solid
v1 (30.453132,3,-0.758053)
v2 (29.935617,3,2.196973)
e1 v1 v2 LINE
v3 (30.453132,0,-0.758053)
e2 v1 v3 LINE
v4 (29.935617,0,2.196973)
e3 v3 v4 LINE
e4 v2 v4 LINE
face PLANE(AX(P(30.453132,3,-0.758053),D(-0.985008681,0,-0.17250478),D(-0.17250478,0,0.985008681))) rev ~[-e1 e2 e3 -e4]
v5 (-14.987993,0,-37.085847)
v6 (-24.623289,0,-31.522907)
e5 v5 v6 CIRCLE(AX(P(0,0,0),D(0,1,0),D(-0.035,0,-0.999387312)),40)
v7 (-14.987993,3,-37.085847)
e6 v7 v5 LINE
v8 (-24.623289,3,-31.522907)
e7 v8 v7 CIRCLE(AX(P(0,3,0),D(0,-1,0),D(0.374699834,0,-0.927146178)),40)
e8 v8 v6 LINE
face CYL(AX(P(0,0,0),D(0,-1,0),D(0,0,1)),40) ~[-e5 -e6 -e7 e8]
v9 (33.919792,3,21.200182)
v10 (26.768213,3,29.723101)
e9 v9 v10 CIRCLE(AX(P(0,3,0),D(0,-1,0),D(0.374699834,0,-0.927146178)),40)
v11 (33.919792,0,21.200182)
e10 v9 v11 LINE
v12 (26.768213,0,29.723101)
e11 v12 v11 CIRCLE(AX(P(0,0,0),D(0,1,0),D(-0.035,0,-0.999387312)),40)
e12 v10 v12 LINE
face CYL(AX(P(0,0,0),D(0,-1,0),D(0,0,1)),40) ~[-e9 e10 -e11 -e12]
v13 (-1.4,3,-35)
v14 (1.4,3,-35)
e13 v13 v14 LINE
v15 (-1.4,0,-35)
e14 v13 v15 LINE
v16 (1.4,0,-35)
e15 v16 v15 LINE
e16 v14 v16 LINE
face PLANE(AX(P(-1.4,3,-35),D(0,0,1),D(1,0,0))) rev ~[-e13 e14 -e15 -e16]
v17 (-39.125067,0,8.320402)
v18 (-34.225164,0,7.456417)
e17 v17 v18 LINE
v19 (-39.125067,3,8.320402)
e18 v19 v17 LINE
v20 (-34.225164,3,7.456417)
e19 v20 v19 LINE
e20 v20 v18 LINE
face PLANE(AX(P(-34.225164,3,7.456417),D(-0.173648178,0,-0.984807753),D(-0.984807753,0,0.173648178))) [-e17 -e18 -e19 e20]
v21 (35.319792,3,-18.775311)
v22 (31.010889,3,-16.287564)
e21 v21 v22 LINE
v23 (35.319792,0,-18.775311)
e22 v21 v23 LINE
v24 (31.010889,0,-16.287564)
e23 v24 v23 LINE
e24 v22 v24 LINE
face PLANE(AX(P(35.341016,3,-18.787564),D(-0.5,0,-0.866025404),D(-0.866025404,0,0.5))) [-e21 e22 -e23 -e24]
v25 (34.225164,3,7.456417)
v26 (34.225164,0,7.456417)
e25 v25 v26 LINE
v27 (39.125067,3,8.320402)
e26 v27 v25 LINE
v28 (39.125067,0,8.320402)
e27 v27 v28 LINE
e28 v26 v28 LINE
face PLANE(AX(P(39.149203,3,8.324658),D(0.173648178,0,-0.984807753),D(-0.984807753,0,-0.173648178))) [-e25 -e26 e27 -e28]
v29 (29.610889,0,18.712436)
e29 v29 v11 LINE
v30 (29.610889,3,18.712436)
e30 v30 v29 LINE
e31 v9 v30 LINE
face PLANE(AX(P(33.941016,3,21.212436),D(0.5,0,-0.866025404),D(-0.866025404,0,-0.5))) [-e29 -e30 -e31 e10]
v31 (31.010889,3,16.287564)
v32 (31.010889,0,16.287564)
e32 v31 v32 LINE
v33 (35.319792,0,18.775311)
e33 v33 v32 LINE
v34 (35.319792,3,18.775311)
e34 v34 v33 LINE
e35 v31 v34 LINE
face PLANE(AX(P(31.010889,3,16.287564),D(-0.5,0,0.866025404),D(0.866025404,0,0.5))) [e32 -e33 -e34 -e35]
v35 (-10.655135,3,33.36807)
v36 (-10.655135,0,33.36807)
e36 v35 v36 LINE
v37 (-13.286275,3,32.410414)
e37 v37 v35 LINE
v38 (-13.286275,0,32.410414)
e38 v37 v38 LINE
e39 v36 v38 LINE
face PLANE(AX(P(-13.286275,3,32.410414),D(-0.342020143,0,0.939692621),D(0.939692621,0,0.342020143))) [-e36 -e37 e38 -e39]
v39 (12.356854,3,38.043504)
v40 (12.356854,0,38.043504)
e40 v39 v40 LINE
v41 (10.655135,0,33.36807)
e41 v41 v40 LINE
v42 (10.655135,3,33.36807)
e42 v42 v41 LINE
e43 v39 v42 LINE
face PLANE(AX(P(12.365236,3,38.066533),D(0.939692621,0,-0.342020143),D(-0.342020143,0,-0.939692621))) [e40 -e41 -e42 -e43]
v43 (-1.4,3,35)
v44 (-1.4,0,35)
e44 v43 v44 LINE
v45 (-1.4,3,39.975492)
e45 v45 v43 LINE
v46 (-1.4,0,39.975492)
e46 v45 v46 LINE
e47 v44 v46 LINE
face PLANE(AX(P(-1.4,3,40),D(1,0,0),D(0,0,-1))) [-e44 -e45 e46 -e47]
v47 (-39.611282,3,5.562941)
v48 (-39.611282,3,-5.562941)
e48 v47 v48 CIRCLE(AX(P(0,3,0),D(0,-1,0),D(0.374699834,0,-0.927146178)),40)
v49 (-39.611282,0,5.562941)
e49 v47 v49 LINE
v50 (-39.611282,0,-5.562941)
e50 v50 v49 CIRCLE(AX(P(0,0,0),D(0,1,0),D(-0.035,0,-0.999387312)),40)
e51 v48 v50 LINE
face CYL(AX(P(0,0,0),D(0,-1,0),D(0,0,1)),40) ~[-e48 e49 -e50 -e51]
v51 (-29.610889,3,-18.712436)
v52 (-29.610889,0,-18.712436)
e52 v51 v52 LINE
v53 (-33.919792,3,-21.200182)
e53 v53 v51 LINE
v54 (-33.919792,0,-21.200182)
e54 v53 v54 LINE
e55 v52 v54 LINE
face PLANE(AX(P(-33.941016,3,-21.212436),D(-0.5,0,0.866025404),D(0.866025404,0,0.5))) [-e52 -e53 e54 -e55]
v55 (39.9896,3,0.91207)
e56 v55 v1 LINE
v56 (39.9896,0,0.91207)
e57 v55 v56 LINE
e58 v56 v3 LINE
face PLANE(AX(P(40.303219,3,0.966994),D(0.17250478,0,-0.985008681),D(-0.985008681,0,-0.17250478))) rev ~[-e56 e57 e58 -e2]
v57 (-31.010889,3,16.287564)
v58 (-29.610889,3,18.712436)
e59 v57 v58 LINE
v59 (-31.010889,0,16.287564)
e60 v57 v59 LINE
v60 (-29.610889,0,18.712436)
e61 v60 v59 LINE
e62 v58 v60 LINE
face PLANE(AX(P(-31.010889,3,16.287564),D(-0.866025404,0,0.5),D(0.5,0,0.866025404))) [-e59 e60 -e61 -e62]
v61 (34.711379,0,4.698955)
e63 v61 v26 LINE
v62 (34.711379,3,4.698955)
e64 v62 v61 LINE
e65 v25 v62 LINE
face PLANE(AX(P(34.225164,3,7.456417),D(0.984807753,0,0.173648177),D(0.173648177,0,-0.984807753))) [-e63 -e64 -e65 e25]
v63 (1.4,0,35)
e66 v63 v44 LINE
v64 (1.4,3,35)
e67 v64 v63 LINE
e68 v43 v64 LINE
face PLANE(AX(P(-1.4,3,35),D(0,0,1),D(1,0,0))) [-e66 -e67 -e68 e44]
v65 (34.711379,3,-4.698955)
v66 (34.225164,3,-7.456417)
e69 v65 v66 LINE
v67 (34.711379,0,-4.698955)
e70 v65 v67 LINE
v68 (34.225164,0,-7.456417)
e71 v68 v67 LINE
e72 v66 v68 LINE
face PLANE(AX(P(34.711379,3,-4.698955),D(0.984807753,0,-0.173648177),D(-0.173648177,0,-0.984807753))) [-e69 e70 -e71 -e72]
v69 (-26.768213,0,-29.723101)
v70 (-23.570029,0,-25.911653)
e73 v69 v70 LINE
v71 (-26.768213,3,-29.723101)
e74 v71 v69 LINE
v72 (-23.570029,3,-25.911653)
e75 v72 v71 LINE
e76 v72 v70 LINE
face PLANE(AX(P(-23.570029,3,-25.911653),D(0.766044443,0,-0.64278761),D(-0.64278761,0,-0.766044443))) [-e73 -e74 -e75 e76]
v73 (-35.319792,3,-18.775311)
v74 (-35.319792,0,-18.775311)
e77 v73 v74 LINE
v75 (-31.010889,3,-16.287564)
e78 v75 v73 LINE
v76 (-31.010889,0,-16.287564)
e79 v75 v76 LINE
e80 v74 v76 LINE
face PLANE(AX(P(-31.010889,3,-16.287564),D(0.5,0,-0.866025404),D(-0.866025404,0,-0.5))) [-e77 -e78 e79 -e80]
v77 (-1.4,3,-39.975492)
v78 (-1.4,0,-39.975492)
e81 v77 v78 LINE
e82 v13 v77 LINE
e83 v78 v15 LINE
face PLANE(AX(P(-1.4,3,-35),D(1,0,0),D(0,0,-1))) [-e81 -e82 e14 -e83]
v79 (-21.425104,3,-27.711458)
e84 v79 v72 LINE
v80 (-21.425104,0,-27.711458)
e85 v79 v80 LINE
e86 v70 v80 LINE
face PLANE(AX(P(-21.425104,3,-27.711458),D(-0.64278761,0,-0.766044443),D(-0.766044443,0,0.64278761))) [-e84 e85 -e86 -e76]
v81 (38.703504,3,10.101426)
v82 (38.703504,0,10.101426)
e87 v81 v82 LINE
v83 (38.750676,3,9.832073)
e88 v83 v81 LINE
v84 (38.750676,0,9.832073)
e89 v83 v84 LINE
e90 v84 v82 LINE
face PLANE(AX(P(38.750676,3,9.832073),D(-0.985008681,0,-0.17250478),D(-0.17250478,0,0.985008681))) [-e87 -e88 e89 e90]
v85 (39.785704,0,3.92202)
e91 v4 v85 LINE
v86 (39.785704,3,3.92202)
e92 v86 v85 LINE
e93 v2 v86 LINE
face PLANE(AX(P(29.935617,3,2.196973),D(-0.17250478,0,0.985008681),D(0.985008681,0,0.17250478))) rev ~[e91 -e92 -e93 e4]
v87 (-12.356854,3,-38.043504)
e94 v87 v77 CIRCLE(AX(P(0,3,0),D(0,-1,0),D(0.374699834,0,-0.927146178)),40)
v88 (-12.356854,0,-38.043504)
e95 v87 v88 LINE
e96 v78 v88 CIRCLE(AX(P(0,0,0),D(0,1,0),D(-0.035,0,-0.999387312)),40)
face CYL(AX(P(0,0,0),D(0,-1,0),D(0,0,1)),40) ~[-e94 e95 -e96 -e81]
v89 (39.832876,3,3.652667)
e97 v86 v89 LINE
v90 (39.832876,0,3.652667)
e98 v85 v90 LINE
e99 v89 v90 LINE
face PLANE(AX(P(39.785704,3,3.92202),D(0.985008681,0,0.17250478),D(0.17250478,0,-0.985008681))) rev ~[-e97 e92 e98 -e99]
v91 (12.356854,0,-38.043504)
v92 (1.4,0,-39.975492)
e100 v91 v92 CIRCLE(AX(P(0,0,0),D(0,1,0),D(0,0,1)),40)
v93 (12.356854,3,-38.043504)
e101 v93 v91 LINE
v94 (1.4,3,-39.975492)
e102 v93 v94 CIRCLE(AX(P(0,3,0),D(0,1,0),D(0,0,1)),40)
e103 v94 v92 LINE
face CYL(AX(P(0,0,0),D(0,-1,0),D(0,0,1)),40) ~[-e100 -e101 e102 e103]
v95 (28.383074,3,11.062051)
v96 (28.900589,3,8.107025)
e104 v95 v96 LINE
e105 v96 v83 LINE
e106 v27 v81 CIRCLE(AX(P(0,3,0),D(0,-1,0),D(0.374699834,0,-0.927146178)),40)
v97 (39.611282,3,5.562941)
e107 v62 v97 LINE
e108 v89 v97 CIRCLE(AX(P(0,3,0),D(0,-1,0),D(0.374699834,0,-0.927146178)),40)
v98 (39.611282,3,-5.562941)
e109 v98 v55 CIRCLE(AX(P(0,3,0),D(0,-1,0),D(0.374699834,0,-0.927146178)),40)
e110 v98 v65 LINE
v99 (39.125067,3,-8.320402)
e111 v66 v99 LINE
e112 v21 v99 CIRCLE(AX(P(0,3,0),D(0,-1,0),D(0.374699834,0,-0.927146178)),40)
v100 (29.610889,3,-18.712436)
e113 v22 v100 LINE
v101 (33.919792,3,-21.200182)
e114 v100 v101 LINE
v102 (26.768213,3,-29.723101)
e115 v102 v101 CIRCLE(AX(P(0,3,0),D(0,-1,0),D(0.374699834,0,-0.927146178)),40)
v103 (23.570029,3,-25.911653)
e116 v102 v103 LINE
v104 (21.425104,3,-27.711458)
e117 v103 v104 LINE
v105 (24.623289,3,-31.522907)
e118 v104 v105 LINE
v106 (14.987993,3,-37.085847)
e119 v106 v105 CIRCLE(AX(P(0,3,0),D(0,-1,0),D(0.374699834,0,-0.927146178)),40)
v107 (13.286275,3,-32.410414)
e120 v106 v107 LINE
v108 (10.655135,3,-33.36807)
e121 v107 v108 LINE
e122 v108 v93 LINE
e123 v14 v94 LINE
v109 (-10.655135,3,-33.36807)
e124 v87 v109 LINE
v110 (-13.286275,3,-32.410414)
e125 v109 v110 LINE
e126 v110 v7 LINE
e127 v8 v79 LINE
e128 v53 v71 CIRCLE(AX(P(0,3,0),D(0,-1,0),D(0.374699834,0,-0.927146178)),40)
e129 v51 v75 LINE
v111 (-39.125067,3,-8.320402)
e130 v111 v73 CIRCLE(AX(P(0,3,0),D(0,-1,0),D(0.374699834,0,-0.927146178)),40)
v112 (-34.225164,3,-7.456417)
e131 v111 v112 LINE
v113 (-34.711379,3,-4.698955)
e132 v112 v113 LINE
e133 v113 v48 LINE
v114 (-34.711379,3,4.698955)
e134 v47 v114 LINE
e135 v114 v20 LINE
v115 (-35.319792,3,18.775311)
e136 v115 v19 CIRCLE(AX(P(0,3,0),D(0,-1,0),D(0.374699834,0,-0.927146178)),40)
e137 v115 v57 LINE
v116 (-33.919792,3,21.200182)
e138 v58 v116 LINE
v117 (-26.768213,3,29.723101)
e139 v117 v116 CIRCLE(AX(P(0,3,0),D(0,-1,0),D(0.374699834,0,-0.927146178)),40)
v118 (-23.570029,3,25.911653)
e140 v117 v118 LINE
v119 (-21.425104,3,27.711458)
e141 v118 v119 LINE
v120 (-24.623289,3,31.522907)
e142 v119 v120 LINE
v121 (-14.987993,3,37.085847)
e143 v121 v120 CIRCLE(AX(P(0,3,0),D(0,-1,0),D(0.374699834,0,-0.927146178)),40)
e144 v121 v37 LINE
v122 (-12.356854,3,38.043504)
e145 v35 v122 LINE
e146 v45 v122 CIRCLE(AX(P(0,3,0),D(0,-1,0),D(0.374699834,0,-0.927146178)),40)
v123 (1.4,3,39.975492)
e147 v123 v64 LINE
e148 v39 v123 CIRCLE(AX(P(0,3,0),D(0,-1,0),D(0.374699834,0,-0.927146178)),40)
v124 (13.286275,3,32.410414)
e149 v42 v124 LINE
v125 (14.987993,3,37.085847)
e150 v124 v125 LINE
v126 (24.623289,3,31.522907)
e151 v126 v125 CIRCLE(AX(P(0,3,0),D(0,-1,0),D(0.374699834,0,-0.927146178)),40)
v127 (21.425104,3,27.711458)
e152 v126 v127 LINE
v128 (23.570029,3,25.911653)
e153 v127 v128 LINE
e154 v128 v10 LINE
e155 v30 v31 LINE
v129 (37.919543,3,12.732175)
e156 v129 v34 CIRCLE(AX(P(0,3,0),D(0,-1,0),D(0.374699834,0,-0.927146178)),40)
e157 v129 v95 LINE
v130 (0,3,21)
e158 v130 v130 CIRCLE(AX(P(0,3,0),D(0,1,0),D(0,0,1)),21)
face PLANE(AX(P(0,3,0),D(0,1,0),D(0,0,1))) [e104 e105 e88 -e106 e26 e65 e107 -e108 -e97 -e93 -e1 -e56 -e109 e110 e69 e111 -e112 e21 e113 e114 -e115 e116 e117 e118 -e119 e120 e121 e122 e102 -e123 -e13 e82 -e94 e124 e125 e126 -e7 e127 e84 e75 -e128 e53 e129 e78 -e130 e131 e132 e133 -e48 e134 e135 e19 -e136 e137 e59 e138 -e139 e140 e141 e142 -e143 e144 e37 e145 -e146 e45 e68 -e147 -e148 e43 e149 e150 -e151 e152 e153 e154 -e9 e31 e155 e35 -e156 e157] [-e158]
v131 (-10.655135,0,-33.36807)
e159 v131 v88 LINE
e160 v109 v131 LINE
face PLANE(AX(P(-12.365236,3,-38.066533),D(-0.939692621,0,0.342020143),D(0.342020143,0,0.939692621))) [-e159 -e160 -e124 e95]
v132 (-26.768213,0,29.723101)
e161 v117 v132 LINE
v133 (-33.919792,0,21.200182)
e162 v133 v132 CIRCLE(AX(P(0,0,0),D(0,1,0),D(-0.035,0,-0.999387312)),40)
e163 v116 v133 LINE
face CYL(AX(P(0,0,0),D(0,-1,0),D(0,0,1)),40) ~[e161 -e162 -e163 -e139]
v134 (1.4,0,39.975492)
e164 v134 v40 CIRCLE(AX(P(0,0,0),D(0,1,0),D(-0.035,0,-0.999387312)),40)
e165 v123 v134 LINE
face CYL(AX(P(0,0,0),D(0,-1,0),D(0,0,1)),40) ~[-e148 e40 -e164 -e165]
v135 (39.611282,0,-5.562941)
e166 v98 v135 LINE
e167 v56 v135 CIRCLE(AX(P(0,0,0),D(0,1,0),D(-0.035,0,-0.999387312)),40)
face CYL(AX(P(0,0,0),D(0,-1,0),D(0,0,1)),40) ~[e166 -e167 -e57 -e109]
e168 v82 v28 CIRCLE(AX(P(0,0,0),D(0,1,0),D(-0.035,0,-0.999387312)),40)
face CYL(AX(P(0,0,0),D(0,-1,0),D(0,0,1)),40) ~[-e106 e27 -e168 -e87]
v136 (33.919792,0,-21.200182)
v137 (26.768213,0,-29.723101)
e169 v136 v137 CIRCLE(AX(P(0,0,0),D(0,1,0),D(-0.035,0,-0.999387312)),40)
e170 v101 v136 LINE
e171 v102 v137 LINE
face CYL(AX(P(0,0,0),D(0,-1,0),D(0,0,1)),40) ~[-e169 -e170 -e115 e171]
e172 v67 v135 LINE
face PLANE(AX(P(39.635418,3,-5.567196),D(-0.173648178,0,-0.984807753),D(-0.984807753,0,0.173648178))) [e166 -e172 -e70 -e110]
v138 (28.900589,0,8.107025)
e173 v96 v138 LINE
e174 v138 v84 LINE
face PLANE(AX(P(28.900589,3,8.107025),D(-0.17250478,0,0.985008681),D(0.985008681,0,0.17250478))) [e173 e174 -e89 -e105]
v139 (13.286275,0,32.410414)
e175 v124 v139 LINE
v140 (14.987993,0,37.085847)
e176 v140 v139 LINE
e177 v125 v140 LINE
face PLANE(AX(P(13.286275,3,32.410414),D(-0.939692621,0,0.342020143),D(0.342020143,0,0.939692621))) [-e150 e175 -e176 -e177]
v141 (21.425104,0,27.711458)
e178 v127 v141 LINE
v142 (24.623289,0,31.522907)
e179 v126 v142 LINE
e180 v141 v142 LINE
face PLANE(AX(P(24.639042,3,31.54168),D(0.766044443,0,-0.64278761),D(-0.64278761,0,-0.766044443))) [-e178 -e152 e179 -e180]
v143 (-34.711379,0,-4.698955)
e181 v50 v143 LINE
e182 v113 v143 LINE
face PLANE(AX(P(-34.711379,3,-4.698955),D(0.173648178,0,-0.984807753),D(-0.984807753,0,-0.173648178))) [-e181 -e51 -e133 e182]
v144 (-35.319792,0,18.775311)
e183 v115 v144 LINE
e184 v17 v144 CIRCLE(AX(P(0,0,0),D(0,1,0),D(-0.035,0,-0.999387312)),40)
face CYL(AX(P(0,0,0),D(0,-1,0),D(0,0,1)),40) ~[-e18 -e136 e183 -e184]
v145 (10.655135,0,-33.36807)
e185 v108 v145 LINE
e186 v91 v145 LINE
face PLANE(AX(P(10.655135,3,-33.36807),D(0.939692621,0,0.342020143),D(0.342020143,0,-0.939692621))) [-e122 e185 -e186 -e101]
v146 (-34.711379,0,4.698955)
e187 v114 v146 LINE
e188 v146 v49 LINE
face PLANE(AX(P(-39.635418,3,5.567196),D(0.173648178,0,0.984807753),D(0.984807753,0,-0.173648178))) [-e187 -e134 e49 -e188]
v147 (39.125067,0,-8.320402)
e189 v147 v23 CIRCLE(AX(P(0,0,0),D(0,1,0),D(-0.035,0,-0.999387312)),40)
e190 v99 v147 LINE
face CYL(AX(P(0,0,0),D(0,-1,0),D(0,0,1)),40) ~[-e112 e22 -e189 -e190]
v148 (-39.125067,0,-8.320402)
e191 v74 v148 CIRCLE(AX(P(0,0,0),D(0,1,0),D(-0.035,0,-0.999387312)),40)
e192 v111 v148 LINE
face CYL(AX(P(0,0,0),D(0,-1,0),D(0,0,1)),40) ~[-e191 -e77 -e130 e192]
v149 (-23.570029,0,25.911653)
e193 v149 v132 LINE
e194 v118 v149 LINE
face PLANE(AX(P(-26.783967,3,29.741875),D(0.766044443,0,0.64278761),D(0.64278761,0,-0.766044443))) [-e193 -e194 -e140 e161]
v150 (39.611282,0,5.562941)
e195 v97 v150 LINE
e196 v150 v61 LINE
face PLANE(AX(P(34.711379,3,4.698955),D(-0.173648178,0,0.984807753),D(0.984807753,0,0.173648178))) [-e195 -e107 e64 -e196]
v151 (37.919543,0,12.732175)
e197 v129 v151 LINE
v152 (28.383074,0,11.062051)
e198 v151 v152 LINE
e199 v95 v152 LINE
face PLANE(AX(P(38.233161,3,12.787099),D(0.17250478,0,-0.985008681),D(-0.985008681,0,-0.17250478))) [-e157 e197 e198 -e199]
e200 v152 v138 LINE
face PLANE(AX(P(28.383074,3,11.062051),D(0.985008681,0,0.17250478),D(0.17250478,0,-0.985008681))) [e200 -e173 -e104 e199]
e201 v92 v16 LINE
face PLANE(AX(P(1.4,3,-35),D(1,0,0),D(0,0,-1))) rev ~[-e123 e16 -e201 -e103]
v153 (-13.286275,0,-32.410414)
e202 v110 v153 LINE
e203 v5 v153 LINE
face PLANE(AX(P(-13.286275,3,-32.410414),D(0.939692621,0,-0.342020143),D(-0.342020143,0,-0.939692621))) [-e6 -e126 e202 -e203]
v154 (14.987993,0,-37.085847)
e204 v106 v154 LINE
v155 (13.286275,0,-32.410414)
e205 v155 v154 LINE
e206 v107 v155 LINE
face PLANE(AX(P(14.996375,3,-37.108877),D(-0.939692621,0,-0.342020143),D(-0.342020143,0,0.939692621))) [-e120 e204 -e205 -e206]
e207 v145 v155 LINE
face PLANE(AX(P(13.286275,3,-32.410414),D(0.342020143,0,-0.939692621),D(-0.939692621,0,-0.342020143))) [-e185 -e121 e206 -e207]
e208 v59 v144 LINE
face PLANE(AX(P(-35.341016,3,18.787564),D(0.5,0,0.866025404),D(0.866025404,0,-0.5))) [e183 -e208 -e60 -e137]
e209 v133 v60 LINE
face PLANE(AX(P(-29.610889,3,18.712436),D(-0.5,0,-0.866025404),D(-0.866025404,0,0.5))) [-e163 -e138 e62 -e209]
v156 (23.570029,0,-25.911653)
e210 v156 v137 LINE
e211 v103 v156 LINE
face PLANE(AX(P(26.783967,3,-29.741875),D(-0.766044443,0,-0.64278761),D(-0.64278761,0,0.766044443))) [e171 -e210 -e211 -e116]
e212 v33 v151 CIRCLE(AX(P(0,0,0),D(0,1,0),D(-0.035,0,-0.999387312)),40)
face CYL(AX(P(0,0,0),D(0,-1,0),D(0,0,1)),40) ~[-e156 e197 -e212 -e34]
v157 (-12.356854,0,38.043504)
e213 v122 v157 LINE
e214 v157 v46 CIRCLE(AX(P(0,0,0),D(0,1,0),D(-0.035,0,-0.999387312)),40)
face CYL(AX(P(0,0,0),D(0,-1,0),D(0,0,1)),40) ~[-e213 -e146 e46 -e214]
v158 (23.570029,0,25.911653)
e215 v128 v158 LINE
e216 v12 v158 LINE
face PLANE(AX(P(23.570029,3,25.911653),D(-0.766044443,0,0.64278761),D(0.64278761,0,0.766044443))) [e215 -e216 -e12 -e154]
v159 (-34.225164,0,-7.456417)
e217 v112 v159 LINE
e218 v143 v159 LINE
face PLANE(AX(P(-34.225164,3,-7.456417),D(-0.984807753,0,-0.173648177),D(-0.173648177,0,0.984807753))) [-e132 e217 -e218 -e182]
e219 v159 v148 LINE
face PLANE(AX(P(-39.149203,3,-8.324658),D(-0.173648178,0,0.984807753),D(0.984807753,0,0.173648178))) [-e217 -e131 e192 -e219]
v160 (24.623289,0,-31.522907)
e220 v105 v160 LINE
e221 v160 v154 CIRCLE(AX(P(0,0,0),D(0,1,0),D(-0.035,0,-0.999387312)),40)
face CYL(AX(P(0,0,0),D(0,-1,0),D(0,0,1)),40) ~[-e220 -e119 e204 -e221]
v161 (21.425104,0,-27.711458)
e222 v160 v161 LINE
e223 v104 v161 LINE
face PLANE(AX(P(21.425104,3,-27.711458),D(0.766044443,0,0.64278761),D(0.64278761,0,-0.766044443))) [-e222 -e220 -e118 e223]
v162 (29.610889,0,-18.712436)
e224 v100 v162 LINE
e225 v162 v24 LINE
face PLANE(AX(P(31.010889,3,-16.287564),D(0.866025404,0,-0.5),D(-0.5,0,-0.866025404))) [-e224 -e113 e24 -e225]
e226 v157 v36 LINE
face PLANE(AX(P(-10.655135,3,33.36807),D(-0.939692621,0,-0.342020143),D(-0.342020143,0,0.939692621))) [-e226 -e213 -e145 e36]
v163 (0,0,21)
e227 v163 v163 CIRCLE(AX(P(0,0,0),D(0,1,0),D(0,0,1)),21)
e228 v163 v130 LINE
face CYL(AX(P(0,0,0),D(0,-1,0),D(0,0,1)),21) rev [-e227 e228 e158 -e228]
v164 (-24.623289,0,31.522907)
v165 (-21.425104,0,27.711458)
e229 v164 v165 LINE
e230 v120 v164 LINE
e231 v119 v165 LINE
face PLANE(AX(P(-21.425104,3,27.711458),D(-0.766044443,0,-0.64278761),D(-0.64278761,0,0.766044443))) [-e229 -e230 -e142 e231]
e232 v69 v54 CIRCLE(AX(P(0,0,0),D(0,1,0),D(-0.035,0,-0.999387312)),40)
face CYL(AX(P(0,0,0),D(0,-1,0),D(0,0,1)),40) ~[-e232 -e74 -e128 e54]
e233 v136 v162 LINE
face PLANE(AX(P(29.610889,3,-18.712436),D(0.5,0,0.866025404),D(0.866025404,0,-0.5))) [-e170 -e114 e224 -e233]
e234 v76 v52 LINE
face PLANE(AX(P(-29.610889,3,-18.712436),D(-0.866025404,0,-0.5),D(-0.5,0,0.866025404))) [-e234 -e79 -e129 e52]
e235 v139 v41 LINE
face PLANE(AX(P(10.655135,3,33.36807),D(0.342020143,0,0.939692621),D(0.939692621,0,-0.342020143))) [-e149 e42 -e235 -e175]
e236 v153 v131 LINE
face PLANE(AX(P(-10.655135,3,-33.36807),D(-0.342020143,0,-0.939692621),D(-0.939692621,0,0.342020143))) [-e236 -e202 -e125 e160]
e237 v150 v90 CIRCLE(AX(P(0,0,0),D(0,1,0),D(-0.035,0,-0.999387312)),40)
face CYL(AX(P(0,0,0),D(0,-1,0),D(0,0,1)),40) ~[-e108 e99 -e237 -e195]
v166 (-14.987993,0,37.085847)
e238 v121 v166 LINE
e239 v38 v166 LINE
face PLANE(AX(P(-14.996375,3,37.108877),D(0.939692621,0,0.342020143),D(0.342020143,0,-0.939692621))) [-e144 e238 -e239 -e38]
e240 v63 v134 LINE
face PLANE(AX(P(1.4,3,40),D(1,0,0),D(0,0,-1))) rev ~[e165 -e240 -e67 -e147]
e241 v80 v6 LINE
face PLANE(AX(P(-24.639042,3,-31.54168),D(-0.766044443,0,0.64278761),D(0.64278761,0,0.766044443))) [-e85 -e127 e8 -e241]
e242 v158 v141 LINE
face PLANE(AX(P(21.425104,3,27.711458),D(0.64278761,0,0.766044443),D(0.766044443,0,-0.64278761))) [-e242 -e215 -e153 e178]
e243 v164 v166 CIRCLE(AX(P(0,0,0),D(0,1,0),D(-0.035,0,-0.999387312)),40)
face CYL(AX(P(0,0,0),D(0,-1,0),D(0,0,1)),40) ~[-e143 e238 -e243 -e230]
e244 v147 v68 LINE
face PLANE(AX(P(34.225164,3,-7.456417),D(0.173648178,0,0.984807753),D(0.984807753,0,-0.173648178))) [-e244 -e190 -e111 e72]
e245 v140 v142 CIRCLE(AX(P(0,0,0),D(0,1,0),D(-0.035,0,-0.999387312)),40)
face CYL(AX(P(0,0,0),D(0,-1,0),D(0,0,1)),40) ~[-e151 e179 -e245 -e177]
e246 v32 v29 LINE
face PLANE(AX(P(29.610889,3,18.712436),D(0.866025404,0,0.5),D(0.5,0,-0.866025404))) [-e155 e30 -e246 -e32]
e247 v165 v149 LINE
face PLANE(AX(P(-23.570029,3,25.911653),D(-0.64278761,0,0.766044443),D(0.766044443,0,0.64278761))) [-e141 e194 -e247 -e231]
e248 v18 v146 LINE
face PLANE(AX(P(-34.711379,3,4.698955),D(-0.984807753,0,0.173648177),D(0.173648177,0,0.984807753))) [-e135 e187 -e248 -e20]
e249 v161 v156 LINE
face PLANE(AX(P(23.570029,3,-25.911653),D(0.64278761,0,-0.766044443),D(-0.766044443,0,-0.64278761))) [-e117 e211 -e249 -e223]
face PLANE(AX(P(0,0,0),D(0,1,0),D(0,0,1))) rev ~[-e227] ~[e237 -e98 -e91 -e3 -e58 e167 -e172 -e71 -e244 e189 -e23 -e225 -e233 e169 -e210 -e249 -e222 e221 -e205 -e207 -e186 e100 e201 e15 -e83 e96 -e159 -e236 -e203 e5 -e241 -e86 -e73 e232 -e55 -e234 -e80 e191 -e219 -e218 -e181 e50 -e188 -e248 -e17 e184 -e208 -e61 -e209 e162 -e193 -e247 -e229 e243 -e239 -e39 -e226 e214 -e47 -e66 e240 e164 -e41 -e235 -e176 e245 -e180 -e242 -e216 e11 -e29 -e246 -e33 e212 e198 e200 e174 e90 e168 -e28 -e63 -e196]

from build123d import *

# Parameters (mm, degrees)
ESQUISSE1_R             = 40
ESQUISSE1_R_2           = 21
BOSS_EXTRU_1_DEPTH      = 3
ENL_V_MAT_EXTRU_1_REACH = 58.648
ESQUISSE2_W             = 2.8
ESQUISSE2_H             = 5
ENL_V_MAT_EXTRU_2_DEPTH = 10


with BuildPart() as part:
    # Esquisse1 → Boss.-Extru.1 (new body)
    with BuildSketch(Plane(origin=(0, 0, 0), x_dir=(1, 0, 0), z_dir=(0, 1, 0))):
        with Locations(Location((0, 0, 0), (0, 0, 270))):
            Circle(ESQUISSE1_R)
        with Locations(Location((0, 0, 0), (0, 0, 270))):
            Circle(ESQUISSE1_R_2, mode=Mode.SUBTRACT)
    extrude(amount=BOSS_EXTRU_1_DEPTH)

    # Esquisse2 → Enlèv. mat.-Extru.1 (cut, up to next)
    with BuildSketch(Plane(origin=(0, 3, 0), x_dir=(1, 0, 0), z_dir=(0, 1, 0)), mode=Mode.PRIVATE) as enl_v_mat_extru_1_sk1:
        Polygon((14.996375402, 37.108876631), (13.286274685, 32.410413527), (10.655135347, 33.368069928), (12.365236064, 38.066533032), align=None)
    enl_v_mat_extru_1_tool1 = extrude(enl_v_mat_extru_1_sk1.sketch, amount=-ENL_V_MAT_EXTRU_1_REACH, mode=Mode.PRIVATE) & part.part
    # Esquisse2 → Enlèv. mat.-Extru.1 (cut, up to next)
    with BuildSketch(Plane(origin=(0, 3, 0), x_dir=(1, 0, 0), z_dir=(0, 1, 0)), mode=Mode.PRIVATE) as enl_v_mat_extru_1_sk2:
        with Locations((0, 37.5)):
            Rectangle(ESQUISSE2_W, ESQUISSE2_H)
    enl_v_mat_extru_1_tool2 = extrude(enl_v_mat_extru_1_sk2.sketch, amount=-ENL_V_MAT_EXTRU_1_REACH, mode=Mode.PRIVATE) & part.part
    # Esquisse2 → Enlèv. mat.-Extru.1 (cut, up to next)
    with BuildSketch(Plane(origin=(0, 3, 0), x_dir=(1, 0, 0), z_dir=(0, 1, 0)), mode=Mode.PRIVATE) as enl_v_mat_extru_1_sk3:
        Polygon((26.783966608, 29.741875071), (23.570028559, 25.911652856), (21.425104119, 27.711458163), (24.639042167, 31.541680378), align=None)
    enl_v_mat_extru_1_tool3 = extrude(enl_v_mat_extru_1_sk3.sketch, amount=-ENL_V_MAT_EXTRU_1_REACH, mode=Mode.PRIVATE) & part.part
    # Esquisse2 → Enlèv. mat.-Extru.1 (cut, up to next)
    with BuildSketch(Plane(origin=(0, 3, 0), x_dir=(1, 0, 0), z_dir=(0, 1, 0)), mode=Mode.PRIVATE) as enl_v_mat_extru_1_sk4:
        Polygon((35.341016151, 18.787564435), (31.010889132, 16.287564435), (29.610889132, 18.712435565), (33.941016151, 21.212435565), align=None)
    enl_v_mat_extru_1_tool4 = extrude(enl_v_mat_extru_1_sk4.sketch, amount=-ENL_V_MAT_EXTRU_1_REACH, mode=Mode.PRIVATE) & part.part
    # Esquisse2 → Enlèv. mat.-Extru.1 (cut, up to next)
    with BuildSketch(Plane(origin=(0, 3, 0), x_dir=(1, 0, 0), z_dir=(0, 1, 0)), mode=Mode.PRIVATE) as enl_v_mat_extru_1_sk5:
        Polygon((39.635417569, 5.567196252), (34.711378804, 4.698955364), (34.225163907, 7.456417073), (39.149202672, 8.324657961), align=None)
    enl_v_mat_extru_1_tool5 = extrude(enl_v_mat_extru_1_sk5.sketch, amount=-ENL_V_MAT_EXTRU_1_REACH, mode=Mode.PRIVATE) & part.part
    # Esquisse2 → Enlèv. mat.-Extru.1 (cut, up to next)
    with BuildSketch(Plane(origin=(0, 3, 0), x_dir=(1, 0, 0), z_dir=(0, 1, 0)), mode=Mode.PRIVATE) as enl_v_mat_extru_1_sk6:
        Polygon((39.149202672, -8.324657961), (34.225163907, -7.456417073), (34.711378804, -4.698955364), (39.635417569, -5.567196252), align=None)
    enl_v_mat_extru_1_tool6 = extrude(enl_v_mat_extru_1_sk6.sketch, amount=-ENL_V_MAT_EXTRU_1_REACH, mode=Mode.PRIVATE) & part.part
    # Esquisse2 → Enlèv. mat.-Extru.1 (cut, up to next)
    with BuildSketch(Plane(origin=(0, 3, 0), x_dir=(1, 0, 0), z_dir=(0, 1, 0)), mode=Mode.PRIVATE) as enl_v_mat_extru_1_sk7:
        Polygon((33.941016151, -21.212435565), (29.610889132, -18.712435565), (31.010889132, -16.287564435), (35.341016151, -18.787564435), align=None)
    enl_v_mat_extru_1_tool7 = extrude(enl_v_mat_extru_1_sk7.sketch, amount=-ENL_V_MAT_EXTRU_1_REACH, mode=Mode.PRIVATE) & part.part
    # Esquisse2 → Enlèv. mat.-Extru.1 (cut, up to next)
    with BuildSketch(Plane(origin=(0, 3, 0), x_dir=(1, 0, 0), z_dir=(0, 1, 0)), mode=Mode.PRIVATE) as enl_v_mat_extru_1_sk8:
        Polygon((24.639042167, -31.541680378), (21.425104119, -27.711458163), (23.570028559, -25.911652856), (26.783966608, -29.741875071), align=None)
    enl_v_mat_extru_1_tool8 = extrude(enl_v_mat_extru_1_sk8.sketch, amount=-ENL_V_MAT_EXTRU_1_REACH, mode=Mode.PRIVATE) & part.part
    # Esquisse2 → Enlèv. mat.-Extru.1 (cut, up to next)
    with BuildSketch(Plane(origin=(0, 3, 0), x_dir=(1, 0, 0), z_dir=(0, 1, 0)), mode=Mode.PRIVATE) as enl_v_mat_extru_1_sk9:
        Polygon((12.365236064, -38.066533032), (10.655135347, -33.368069928), (13.286274686, -32.410413527), (14.996375402, -37.108876631), align=None)
    enl_v_mat_extru_1_tool9 = extrude(enl_v_mat_extru_1_sk9.sketch, amount=-ENL_V_MAT_EXTRU_1_REACH, mode=Mode.PRIVATE) & part.part
    # Esquisse2 → Enlèv. mat.-Extru.1 (cut, up to next)
    with BuildSketch(Plane(origin=(0, 3, 0), x_dir=(1, 0, 0), z_dir=(0, 1, 0)), mode=Mode.PRIVATE) as enl_v_mat_extru_1_sk10:
        with Locations((0, -37.5)):
            Rectangle(ESQUISSE2_W, ESQUISSE2_H)
    enl_v_mat_extru_1_tool10 = extrude(enl_v_mat_extru_1_sk10.sketch, amount=-ENL_V_MAT_EXTRU_1_REACH, mode=Mode.PRIVATE) & part.part
    # Esquisse2 → Enlèv. mat.-Extru.1 (cut, up to next)
    with BuildSketch(Plane(origin=(0, 3, 0), x_dir=(1, 0, 0), z_dir=(0, 1, 0)), mode=Mode.PRIVATE) as enl_v_mat_extru_1_sk11:
        Polygon((-14.996375402, -37.108876631), (-13.286274685, -32.410413527), (-10.655135347, -33.368069928), (-12.365236064, -38.066533032), align=None)
    enl_v_mat_extru_1_tool11 = extrude(enl_v_mat_extru_1_sk11.sketch, amount=-ENL_V_MAT_EXTRU_1_REACH, mode=Mode.PRIVATE) & part.part
    # Esquisse2 → Enlèv. mat.-Extru.1 (cut, up to next)
    with BuildSketch(Plane(origin=(0, 3, 0), x_dir=(1, 0, 0), z_dir=(0, 1, 0)), mode=Mode.PRIVATE) as enl_v_mat_extru_1_sk12:
        Polygon((-26.783966608, -29.741875071), (-23.570028559, -25.911652856), (-21.425104119, -27.711458163), (-24.639042167, -31.541680378), align=None)
    enl_v_mat_extru_1_tool12 = extrude(enl_v_mat_extru_1_sk12.sketch, amount=-ENL_V_MAT_EXTRU_1_REACH, mode=Mode.PRIVATE) & part.part
    # Esquisse2 → Enlèv. mat.-Extru.1 (cut, up to next)
    with BuildSketch(Plane(origin=(0, 3, 0), x_dir=(1, 0, 0), z_dir=(0, 1, 0)), mode=Mode.PRIVATE) as enl_v_mat_extru_1_sk13:
        Polygon((-35.341016151, -18.787564435), (-31.010889132, -16.287564435), (-29.610889132, -18.712435565), (-33.941016151, -21.212435565), align=None)
    enl_v_mat_extru_1_tool13 = extrude(enl_v_mat_extru_1_sk13.sketch, amount=-ENL_V_MAT_EXTRU_1_REACH, mode=Mode.PRIVATE) & part.part
    # Esquisse2 → Enlèv. mat.-Extru.1 (cut, up to next)
    with BuildSketch(Plane(origin=(0, 3, 0), x_dir=(1, 0, 0), z_dir=(0, 1, 0)), mode=Mode.PRIVATE) as enl_v_mat_extru_1_sk14:
        Polygon((-39.635417569, -5.567196252), (-34.711378804, -4.698955364), (-34.225163907, -7.456417073), (-39.149202672, -8.324657961), align=None)
    enl_v_mat_extru_1_tool14 = extrude(enl_v_mat_extru_1_sk14.sketch, amount=-ENL_V_MAT_EXTRU_1_REACH, mode=Mode.PRIVATE) & part.part
    # Esquisse2 → Enlèv. mat.-Extru.1 (cut, up to next)
    with BuildSketch(Plane(origin=(0, 3, 0), x_dir=(1, 0, 0), z_dir=(0, 1, 0)), mode=Mode.PRIVATE) as enl_v_mat_extru_1_sk15:
        Polygon((-39.149202672, 8.324657961), (-34.225163907, 7.456417073), (-34.711378804, 4.698955364), (-39.635417569, 5.567196252), align=None)
    enl_v_mat_extru_1_tool15 = extrude(enl_v_mat_extru_1_sk15.sketch, amount=-ENL_V_MAT_EXTRU_1_REACH, mode=Mode.PRIVATE) & part.part
    # Esquisse2 → Enlèv. mat.-Extru.1 (cut, up to next)
    with BuildSketch(Plane(origin=(0, 3, 0), x_dir=(1, 0, 0), z_dir=(0, 1, 0)), mode=Mode.PRIVATE) as enl_v_mat_extru_1_sk16:
        Polygon((-33.941016151, 21.212435565), (-29.610889132, 18.712435565), (-31.010889132, 16.287564435), (-35.341016151, 18.787564435), align=None)
    enl_v_mat_extru_1_tool16 = extrude(enl_v_mat_extru_1_sk16.sketch, amount=-ENL_V_MAT_EXTRU_1_REACH, mode=Mode.PRIVATE) & part.part
    # Esquisse2 → Enlèv. mat.-Extru.1 (cut, up to next)
    with BuildSketch(Plane(origin=(0, 3, 0), x_dir=(1, 0, 0), z_dir=(0, 1, 0)), mode=Mode.PRIVATE) as enl_v_mat_extru_1_sk17:
        Polygon((-24.639042167, 31.541680378), (-21.425104119, 27.711458163), (-23.570028559, 25.911652856), (-26.783966608, 29.741875071), align=None)
    enl_v_mat_extru_1_tool17 = extrude(enl_v_mat_extru_1_sk17.sketch, amount=-ENL_V_MAT_EXTRU_1_REACH, mode=Mode.PRIVATE) & part.part
    # Esquisse2 → Enlèv. mat.-Extru.1 (cut, up to next)
    with BuildSketch(Plane(origin=(0, 3, 0), x_dir=(1, 0, 0), z_dir=(0, 1, 0)), mode=Mode.PRIVATE) as enl_v_mat_extru_1_sk18:
        Polygon((-12.365236064, 38.066533032), (-10.655135347, 33.368069928), (-13.286274685, 32.410413527), (-14.996375402, 37.108876631), align=None)
    enl_v_mat_extru_1_tool18 = extrude(enl_v_mat_extru_1_sk18.sketch, amount=-ENL_V_MAT_EXTRU_1_REACH, mode=Mode.PRIVATE) & part.part
    add(enl_v_mat_extru_1_tool1.solids().sort_by_distance((12.825755, 3, -35.238473))[0], mode=Mode.SUBTRACT)
    add(enl_v_mat_extru_1_tool2.solids().sort_by_distance((0, 3, -37.5))[0], mode=Mode.SUBTRACT)
    add(enl_v_mat_extru_1_tool3.solids().sort_by_distance((24.104535, 3, -28.726667))[0], mode=Mode.SUBTRACT)
    add(enl_v_mat_extru_1_tool4.solids().sort_by_distance((32.475953, 3, -18.75))[0], mode=Mode.SUBTRACT)
    add(enl_v_mat_extru_1_tool5.solids().sort_by_distance((36.930291, 3, -6.511807))[0], mode=Mode.SUBTRACT)
    add(enl_v_mat_extru_1_tool6.solids().sort_by_distance((36.930291, 3, 6.511807))[0], mode=Mode.SUBTRACT)
    add(enl_v_mat_extru_1_tool7.solids().sort_by_distance((32.475953, 3, 18.75))[0], mode=Mode.SUBTRACT)
    add(enl_v_mat_extru_1_tool8.solids().sort_by_distance((24.104535, 3, 28.726667))[0], mode=Mode.SUBTRACT)
    add(enl_v_mat_extru_1_tool9.solids().sort_by_distance((12.825755, 3, 35.238473))[0], mode=Mode.SUBTRACT)
    add(enl_v_mat_extru_1_tool10.solids().sort_by_distance((0, 3, 37.5))[0], mode=Mode.SUBTRACT)
    add(enl_v_mat_extru_1_tool11.solids().sort_by_distance((-12.825755, 3, 35.238473))[0], mode=Mode.SUBTRACT)
    add(enl_v_mat_extru_1_tool12.solids().sort_by_distance((-24.104535, 3, 28.726667))[0], mode=Mode.SUBTRACT)
    add(enl_v_mat_extru_1_tool13.solids().sort_by_distance((-32.475953, 3, 18.75))[0], mode=Mode.SUBTRACT)
    add(enl_v_mat_extru_1_tool14.solids().sort_by_distance((-36.930291, 3, 6.511807))[0], mode=Mode.SUBTRACT)
    add(enl_v_mat_extru_1_tool15.solids().sort_by_distance((-36.930291, 3, -6.511807))[0], mode=Mode.SUBTRACT)
    add(enl_v_mat_extru_1_tool16.solids().sort_by_distance((-32.475953, 3, -18.75))[0], mode=Mode.SUBTRACT)
    add(enl_v_mat_extru_1_tool17.solids().sort_by_distance((-24.104535, 3, -28.726667))[0], mode=Mode.SUBTRACT)
    add(enl_v_mat_extru_1_tool18.solids().sort_by_distance((-12.825755, 3, -35.238473))[0], mode=Mode.SUBTRACT)

    # Esquisse3 → Enlèv. mat.-Extru.2 (cut)
    with BuildSketch(Plane(origin=(0, 3, 0), x_dir=(1, 0, 0), z_dir=(0, 1, 0))):
        Polygon((30.453131782, 0.758053416), (29.935617441, -2.196972626), (39.785704247, -3.922020428), (40.303218588, -0.966994387), align=None)
        Polygon((28.383074419, -11.062050751), (28.90058876, -8.107024709), (38.750675566, -9.832072512), (38.233161225, -12.787098553), align=None)
    extrude(amount=-ENL_V_MAT_EXTRU_2_DEPTH, mode=Mode.SUBTRACT)


solid = part.part
